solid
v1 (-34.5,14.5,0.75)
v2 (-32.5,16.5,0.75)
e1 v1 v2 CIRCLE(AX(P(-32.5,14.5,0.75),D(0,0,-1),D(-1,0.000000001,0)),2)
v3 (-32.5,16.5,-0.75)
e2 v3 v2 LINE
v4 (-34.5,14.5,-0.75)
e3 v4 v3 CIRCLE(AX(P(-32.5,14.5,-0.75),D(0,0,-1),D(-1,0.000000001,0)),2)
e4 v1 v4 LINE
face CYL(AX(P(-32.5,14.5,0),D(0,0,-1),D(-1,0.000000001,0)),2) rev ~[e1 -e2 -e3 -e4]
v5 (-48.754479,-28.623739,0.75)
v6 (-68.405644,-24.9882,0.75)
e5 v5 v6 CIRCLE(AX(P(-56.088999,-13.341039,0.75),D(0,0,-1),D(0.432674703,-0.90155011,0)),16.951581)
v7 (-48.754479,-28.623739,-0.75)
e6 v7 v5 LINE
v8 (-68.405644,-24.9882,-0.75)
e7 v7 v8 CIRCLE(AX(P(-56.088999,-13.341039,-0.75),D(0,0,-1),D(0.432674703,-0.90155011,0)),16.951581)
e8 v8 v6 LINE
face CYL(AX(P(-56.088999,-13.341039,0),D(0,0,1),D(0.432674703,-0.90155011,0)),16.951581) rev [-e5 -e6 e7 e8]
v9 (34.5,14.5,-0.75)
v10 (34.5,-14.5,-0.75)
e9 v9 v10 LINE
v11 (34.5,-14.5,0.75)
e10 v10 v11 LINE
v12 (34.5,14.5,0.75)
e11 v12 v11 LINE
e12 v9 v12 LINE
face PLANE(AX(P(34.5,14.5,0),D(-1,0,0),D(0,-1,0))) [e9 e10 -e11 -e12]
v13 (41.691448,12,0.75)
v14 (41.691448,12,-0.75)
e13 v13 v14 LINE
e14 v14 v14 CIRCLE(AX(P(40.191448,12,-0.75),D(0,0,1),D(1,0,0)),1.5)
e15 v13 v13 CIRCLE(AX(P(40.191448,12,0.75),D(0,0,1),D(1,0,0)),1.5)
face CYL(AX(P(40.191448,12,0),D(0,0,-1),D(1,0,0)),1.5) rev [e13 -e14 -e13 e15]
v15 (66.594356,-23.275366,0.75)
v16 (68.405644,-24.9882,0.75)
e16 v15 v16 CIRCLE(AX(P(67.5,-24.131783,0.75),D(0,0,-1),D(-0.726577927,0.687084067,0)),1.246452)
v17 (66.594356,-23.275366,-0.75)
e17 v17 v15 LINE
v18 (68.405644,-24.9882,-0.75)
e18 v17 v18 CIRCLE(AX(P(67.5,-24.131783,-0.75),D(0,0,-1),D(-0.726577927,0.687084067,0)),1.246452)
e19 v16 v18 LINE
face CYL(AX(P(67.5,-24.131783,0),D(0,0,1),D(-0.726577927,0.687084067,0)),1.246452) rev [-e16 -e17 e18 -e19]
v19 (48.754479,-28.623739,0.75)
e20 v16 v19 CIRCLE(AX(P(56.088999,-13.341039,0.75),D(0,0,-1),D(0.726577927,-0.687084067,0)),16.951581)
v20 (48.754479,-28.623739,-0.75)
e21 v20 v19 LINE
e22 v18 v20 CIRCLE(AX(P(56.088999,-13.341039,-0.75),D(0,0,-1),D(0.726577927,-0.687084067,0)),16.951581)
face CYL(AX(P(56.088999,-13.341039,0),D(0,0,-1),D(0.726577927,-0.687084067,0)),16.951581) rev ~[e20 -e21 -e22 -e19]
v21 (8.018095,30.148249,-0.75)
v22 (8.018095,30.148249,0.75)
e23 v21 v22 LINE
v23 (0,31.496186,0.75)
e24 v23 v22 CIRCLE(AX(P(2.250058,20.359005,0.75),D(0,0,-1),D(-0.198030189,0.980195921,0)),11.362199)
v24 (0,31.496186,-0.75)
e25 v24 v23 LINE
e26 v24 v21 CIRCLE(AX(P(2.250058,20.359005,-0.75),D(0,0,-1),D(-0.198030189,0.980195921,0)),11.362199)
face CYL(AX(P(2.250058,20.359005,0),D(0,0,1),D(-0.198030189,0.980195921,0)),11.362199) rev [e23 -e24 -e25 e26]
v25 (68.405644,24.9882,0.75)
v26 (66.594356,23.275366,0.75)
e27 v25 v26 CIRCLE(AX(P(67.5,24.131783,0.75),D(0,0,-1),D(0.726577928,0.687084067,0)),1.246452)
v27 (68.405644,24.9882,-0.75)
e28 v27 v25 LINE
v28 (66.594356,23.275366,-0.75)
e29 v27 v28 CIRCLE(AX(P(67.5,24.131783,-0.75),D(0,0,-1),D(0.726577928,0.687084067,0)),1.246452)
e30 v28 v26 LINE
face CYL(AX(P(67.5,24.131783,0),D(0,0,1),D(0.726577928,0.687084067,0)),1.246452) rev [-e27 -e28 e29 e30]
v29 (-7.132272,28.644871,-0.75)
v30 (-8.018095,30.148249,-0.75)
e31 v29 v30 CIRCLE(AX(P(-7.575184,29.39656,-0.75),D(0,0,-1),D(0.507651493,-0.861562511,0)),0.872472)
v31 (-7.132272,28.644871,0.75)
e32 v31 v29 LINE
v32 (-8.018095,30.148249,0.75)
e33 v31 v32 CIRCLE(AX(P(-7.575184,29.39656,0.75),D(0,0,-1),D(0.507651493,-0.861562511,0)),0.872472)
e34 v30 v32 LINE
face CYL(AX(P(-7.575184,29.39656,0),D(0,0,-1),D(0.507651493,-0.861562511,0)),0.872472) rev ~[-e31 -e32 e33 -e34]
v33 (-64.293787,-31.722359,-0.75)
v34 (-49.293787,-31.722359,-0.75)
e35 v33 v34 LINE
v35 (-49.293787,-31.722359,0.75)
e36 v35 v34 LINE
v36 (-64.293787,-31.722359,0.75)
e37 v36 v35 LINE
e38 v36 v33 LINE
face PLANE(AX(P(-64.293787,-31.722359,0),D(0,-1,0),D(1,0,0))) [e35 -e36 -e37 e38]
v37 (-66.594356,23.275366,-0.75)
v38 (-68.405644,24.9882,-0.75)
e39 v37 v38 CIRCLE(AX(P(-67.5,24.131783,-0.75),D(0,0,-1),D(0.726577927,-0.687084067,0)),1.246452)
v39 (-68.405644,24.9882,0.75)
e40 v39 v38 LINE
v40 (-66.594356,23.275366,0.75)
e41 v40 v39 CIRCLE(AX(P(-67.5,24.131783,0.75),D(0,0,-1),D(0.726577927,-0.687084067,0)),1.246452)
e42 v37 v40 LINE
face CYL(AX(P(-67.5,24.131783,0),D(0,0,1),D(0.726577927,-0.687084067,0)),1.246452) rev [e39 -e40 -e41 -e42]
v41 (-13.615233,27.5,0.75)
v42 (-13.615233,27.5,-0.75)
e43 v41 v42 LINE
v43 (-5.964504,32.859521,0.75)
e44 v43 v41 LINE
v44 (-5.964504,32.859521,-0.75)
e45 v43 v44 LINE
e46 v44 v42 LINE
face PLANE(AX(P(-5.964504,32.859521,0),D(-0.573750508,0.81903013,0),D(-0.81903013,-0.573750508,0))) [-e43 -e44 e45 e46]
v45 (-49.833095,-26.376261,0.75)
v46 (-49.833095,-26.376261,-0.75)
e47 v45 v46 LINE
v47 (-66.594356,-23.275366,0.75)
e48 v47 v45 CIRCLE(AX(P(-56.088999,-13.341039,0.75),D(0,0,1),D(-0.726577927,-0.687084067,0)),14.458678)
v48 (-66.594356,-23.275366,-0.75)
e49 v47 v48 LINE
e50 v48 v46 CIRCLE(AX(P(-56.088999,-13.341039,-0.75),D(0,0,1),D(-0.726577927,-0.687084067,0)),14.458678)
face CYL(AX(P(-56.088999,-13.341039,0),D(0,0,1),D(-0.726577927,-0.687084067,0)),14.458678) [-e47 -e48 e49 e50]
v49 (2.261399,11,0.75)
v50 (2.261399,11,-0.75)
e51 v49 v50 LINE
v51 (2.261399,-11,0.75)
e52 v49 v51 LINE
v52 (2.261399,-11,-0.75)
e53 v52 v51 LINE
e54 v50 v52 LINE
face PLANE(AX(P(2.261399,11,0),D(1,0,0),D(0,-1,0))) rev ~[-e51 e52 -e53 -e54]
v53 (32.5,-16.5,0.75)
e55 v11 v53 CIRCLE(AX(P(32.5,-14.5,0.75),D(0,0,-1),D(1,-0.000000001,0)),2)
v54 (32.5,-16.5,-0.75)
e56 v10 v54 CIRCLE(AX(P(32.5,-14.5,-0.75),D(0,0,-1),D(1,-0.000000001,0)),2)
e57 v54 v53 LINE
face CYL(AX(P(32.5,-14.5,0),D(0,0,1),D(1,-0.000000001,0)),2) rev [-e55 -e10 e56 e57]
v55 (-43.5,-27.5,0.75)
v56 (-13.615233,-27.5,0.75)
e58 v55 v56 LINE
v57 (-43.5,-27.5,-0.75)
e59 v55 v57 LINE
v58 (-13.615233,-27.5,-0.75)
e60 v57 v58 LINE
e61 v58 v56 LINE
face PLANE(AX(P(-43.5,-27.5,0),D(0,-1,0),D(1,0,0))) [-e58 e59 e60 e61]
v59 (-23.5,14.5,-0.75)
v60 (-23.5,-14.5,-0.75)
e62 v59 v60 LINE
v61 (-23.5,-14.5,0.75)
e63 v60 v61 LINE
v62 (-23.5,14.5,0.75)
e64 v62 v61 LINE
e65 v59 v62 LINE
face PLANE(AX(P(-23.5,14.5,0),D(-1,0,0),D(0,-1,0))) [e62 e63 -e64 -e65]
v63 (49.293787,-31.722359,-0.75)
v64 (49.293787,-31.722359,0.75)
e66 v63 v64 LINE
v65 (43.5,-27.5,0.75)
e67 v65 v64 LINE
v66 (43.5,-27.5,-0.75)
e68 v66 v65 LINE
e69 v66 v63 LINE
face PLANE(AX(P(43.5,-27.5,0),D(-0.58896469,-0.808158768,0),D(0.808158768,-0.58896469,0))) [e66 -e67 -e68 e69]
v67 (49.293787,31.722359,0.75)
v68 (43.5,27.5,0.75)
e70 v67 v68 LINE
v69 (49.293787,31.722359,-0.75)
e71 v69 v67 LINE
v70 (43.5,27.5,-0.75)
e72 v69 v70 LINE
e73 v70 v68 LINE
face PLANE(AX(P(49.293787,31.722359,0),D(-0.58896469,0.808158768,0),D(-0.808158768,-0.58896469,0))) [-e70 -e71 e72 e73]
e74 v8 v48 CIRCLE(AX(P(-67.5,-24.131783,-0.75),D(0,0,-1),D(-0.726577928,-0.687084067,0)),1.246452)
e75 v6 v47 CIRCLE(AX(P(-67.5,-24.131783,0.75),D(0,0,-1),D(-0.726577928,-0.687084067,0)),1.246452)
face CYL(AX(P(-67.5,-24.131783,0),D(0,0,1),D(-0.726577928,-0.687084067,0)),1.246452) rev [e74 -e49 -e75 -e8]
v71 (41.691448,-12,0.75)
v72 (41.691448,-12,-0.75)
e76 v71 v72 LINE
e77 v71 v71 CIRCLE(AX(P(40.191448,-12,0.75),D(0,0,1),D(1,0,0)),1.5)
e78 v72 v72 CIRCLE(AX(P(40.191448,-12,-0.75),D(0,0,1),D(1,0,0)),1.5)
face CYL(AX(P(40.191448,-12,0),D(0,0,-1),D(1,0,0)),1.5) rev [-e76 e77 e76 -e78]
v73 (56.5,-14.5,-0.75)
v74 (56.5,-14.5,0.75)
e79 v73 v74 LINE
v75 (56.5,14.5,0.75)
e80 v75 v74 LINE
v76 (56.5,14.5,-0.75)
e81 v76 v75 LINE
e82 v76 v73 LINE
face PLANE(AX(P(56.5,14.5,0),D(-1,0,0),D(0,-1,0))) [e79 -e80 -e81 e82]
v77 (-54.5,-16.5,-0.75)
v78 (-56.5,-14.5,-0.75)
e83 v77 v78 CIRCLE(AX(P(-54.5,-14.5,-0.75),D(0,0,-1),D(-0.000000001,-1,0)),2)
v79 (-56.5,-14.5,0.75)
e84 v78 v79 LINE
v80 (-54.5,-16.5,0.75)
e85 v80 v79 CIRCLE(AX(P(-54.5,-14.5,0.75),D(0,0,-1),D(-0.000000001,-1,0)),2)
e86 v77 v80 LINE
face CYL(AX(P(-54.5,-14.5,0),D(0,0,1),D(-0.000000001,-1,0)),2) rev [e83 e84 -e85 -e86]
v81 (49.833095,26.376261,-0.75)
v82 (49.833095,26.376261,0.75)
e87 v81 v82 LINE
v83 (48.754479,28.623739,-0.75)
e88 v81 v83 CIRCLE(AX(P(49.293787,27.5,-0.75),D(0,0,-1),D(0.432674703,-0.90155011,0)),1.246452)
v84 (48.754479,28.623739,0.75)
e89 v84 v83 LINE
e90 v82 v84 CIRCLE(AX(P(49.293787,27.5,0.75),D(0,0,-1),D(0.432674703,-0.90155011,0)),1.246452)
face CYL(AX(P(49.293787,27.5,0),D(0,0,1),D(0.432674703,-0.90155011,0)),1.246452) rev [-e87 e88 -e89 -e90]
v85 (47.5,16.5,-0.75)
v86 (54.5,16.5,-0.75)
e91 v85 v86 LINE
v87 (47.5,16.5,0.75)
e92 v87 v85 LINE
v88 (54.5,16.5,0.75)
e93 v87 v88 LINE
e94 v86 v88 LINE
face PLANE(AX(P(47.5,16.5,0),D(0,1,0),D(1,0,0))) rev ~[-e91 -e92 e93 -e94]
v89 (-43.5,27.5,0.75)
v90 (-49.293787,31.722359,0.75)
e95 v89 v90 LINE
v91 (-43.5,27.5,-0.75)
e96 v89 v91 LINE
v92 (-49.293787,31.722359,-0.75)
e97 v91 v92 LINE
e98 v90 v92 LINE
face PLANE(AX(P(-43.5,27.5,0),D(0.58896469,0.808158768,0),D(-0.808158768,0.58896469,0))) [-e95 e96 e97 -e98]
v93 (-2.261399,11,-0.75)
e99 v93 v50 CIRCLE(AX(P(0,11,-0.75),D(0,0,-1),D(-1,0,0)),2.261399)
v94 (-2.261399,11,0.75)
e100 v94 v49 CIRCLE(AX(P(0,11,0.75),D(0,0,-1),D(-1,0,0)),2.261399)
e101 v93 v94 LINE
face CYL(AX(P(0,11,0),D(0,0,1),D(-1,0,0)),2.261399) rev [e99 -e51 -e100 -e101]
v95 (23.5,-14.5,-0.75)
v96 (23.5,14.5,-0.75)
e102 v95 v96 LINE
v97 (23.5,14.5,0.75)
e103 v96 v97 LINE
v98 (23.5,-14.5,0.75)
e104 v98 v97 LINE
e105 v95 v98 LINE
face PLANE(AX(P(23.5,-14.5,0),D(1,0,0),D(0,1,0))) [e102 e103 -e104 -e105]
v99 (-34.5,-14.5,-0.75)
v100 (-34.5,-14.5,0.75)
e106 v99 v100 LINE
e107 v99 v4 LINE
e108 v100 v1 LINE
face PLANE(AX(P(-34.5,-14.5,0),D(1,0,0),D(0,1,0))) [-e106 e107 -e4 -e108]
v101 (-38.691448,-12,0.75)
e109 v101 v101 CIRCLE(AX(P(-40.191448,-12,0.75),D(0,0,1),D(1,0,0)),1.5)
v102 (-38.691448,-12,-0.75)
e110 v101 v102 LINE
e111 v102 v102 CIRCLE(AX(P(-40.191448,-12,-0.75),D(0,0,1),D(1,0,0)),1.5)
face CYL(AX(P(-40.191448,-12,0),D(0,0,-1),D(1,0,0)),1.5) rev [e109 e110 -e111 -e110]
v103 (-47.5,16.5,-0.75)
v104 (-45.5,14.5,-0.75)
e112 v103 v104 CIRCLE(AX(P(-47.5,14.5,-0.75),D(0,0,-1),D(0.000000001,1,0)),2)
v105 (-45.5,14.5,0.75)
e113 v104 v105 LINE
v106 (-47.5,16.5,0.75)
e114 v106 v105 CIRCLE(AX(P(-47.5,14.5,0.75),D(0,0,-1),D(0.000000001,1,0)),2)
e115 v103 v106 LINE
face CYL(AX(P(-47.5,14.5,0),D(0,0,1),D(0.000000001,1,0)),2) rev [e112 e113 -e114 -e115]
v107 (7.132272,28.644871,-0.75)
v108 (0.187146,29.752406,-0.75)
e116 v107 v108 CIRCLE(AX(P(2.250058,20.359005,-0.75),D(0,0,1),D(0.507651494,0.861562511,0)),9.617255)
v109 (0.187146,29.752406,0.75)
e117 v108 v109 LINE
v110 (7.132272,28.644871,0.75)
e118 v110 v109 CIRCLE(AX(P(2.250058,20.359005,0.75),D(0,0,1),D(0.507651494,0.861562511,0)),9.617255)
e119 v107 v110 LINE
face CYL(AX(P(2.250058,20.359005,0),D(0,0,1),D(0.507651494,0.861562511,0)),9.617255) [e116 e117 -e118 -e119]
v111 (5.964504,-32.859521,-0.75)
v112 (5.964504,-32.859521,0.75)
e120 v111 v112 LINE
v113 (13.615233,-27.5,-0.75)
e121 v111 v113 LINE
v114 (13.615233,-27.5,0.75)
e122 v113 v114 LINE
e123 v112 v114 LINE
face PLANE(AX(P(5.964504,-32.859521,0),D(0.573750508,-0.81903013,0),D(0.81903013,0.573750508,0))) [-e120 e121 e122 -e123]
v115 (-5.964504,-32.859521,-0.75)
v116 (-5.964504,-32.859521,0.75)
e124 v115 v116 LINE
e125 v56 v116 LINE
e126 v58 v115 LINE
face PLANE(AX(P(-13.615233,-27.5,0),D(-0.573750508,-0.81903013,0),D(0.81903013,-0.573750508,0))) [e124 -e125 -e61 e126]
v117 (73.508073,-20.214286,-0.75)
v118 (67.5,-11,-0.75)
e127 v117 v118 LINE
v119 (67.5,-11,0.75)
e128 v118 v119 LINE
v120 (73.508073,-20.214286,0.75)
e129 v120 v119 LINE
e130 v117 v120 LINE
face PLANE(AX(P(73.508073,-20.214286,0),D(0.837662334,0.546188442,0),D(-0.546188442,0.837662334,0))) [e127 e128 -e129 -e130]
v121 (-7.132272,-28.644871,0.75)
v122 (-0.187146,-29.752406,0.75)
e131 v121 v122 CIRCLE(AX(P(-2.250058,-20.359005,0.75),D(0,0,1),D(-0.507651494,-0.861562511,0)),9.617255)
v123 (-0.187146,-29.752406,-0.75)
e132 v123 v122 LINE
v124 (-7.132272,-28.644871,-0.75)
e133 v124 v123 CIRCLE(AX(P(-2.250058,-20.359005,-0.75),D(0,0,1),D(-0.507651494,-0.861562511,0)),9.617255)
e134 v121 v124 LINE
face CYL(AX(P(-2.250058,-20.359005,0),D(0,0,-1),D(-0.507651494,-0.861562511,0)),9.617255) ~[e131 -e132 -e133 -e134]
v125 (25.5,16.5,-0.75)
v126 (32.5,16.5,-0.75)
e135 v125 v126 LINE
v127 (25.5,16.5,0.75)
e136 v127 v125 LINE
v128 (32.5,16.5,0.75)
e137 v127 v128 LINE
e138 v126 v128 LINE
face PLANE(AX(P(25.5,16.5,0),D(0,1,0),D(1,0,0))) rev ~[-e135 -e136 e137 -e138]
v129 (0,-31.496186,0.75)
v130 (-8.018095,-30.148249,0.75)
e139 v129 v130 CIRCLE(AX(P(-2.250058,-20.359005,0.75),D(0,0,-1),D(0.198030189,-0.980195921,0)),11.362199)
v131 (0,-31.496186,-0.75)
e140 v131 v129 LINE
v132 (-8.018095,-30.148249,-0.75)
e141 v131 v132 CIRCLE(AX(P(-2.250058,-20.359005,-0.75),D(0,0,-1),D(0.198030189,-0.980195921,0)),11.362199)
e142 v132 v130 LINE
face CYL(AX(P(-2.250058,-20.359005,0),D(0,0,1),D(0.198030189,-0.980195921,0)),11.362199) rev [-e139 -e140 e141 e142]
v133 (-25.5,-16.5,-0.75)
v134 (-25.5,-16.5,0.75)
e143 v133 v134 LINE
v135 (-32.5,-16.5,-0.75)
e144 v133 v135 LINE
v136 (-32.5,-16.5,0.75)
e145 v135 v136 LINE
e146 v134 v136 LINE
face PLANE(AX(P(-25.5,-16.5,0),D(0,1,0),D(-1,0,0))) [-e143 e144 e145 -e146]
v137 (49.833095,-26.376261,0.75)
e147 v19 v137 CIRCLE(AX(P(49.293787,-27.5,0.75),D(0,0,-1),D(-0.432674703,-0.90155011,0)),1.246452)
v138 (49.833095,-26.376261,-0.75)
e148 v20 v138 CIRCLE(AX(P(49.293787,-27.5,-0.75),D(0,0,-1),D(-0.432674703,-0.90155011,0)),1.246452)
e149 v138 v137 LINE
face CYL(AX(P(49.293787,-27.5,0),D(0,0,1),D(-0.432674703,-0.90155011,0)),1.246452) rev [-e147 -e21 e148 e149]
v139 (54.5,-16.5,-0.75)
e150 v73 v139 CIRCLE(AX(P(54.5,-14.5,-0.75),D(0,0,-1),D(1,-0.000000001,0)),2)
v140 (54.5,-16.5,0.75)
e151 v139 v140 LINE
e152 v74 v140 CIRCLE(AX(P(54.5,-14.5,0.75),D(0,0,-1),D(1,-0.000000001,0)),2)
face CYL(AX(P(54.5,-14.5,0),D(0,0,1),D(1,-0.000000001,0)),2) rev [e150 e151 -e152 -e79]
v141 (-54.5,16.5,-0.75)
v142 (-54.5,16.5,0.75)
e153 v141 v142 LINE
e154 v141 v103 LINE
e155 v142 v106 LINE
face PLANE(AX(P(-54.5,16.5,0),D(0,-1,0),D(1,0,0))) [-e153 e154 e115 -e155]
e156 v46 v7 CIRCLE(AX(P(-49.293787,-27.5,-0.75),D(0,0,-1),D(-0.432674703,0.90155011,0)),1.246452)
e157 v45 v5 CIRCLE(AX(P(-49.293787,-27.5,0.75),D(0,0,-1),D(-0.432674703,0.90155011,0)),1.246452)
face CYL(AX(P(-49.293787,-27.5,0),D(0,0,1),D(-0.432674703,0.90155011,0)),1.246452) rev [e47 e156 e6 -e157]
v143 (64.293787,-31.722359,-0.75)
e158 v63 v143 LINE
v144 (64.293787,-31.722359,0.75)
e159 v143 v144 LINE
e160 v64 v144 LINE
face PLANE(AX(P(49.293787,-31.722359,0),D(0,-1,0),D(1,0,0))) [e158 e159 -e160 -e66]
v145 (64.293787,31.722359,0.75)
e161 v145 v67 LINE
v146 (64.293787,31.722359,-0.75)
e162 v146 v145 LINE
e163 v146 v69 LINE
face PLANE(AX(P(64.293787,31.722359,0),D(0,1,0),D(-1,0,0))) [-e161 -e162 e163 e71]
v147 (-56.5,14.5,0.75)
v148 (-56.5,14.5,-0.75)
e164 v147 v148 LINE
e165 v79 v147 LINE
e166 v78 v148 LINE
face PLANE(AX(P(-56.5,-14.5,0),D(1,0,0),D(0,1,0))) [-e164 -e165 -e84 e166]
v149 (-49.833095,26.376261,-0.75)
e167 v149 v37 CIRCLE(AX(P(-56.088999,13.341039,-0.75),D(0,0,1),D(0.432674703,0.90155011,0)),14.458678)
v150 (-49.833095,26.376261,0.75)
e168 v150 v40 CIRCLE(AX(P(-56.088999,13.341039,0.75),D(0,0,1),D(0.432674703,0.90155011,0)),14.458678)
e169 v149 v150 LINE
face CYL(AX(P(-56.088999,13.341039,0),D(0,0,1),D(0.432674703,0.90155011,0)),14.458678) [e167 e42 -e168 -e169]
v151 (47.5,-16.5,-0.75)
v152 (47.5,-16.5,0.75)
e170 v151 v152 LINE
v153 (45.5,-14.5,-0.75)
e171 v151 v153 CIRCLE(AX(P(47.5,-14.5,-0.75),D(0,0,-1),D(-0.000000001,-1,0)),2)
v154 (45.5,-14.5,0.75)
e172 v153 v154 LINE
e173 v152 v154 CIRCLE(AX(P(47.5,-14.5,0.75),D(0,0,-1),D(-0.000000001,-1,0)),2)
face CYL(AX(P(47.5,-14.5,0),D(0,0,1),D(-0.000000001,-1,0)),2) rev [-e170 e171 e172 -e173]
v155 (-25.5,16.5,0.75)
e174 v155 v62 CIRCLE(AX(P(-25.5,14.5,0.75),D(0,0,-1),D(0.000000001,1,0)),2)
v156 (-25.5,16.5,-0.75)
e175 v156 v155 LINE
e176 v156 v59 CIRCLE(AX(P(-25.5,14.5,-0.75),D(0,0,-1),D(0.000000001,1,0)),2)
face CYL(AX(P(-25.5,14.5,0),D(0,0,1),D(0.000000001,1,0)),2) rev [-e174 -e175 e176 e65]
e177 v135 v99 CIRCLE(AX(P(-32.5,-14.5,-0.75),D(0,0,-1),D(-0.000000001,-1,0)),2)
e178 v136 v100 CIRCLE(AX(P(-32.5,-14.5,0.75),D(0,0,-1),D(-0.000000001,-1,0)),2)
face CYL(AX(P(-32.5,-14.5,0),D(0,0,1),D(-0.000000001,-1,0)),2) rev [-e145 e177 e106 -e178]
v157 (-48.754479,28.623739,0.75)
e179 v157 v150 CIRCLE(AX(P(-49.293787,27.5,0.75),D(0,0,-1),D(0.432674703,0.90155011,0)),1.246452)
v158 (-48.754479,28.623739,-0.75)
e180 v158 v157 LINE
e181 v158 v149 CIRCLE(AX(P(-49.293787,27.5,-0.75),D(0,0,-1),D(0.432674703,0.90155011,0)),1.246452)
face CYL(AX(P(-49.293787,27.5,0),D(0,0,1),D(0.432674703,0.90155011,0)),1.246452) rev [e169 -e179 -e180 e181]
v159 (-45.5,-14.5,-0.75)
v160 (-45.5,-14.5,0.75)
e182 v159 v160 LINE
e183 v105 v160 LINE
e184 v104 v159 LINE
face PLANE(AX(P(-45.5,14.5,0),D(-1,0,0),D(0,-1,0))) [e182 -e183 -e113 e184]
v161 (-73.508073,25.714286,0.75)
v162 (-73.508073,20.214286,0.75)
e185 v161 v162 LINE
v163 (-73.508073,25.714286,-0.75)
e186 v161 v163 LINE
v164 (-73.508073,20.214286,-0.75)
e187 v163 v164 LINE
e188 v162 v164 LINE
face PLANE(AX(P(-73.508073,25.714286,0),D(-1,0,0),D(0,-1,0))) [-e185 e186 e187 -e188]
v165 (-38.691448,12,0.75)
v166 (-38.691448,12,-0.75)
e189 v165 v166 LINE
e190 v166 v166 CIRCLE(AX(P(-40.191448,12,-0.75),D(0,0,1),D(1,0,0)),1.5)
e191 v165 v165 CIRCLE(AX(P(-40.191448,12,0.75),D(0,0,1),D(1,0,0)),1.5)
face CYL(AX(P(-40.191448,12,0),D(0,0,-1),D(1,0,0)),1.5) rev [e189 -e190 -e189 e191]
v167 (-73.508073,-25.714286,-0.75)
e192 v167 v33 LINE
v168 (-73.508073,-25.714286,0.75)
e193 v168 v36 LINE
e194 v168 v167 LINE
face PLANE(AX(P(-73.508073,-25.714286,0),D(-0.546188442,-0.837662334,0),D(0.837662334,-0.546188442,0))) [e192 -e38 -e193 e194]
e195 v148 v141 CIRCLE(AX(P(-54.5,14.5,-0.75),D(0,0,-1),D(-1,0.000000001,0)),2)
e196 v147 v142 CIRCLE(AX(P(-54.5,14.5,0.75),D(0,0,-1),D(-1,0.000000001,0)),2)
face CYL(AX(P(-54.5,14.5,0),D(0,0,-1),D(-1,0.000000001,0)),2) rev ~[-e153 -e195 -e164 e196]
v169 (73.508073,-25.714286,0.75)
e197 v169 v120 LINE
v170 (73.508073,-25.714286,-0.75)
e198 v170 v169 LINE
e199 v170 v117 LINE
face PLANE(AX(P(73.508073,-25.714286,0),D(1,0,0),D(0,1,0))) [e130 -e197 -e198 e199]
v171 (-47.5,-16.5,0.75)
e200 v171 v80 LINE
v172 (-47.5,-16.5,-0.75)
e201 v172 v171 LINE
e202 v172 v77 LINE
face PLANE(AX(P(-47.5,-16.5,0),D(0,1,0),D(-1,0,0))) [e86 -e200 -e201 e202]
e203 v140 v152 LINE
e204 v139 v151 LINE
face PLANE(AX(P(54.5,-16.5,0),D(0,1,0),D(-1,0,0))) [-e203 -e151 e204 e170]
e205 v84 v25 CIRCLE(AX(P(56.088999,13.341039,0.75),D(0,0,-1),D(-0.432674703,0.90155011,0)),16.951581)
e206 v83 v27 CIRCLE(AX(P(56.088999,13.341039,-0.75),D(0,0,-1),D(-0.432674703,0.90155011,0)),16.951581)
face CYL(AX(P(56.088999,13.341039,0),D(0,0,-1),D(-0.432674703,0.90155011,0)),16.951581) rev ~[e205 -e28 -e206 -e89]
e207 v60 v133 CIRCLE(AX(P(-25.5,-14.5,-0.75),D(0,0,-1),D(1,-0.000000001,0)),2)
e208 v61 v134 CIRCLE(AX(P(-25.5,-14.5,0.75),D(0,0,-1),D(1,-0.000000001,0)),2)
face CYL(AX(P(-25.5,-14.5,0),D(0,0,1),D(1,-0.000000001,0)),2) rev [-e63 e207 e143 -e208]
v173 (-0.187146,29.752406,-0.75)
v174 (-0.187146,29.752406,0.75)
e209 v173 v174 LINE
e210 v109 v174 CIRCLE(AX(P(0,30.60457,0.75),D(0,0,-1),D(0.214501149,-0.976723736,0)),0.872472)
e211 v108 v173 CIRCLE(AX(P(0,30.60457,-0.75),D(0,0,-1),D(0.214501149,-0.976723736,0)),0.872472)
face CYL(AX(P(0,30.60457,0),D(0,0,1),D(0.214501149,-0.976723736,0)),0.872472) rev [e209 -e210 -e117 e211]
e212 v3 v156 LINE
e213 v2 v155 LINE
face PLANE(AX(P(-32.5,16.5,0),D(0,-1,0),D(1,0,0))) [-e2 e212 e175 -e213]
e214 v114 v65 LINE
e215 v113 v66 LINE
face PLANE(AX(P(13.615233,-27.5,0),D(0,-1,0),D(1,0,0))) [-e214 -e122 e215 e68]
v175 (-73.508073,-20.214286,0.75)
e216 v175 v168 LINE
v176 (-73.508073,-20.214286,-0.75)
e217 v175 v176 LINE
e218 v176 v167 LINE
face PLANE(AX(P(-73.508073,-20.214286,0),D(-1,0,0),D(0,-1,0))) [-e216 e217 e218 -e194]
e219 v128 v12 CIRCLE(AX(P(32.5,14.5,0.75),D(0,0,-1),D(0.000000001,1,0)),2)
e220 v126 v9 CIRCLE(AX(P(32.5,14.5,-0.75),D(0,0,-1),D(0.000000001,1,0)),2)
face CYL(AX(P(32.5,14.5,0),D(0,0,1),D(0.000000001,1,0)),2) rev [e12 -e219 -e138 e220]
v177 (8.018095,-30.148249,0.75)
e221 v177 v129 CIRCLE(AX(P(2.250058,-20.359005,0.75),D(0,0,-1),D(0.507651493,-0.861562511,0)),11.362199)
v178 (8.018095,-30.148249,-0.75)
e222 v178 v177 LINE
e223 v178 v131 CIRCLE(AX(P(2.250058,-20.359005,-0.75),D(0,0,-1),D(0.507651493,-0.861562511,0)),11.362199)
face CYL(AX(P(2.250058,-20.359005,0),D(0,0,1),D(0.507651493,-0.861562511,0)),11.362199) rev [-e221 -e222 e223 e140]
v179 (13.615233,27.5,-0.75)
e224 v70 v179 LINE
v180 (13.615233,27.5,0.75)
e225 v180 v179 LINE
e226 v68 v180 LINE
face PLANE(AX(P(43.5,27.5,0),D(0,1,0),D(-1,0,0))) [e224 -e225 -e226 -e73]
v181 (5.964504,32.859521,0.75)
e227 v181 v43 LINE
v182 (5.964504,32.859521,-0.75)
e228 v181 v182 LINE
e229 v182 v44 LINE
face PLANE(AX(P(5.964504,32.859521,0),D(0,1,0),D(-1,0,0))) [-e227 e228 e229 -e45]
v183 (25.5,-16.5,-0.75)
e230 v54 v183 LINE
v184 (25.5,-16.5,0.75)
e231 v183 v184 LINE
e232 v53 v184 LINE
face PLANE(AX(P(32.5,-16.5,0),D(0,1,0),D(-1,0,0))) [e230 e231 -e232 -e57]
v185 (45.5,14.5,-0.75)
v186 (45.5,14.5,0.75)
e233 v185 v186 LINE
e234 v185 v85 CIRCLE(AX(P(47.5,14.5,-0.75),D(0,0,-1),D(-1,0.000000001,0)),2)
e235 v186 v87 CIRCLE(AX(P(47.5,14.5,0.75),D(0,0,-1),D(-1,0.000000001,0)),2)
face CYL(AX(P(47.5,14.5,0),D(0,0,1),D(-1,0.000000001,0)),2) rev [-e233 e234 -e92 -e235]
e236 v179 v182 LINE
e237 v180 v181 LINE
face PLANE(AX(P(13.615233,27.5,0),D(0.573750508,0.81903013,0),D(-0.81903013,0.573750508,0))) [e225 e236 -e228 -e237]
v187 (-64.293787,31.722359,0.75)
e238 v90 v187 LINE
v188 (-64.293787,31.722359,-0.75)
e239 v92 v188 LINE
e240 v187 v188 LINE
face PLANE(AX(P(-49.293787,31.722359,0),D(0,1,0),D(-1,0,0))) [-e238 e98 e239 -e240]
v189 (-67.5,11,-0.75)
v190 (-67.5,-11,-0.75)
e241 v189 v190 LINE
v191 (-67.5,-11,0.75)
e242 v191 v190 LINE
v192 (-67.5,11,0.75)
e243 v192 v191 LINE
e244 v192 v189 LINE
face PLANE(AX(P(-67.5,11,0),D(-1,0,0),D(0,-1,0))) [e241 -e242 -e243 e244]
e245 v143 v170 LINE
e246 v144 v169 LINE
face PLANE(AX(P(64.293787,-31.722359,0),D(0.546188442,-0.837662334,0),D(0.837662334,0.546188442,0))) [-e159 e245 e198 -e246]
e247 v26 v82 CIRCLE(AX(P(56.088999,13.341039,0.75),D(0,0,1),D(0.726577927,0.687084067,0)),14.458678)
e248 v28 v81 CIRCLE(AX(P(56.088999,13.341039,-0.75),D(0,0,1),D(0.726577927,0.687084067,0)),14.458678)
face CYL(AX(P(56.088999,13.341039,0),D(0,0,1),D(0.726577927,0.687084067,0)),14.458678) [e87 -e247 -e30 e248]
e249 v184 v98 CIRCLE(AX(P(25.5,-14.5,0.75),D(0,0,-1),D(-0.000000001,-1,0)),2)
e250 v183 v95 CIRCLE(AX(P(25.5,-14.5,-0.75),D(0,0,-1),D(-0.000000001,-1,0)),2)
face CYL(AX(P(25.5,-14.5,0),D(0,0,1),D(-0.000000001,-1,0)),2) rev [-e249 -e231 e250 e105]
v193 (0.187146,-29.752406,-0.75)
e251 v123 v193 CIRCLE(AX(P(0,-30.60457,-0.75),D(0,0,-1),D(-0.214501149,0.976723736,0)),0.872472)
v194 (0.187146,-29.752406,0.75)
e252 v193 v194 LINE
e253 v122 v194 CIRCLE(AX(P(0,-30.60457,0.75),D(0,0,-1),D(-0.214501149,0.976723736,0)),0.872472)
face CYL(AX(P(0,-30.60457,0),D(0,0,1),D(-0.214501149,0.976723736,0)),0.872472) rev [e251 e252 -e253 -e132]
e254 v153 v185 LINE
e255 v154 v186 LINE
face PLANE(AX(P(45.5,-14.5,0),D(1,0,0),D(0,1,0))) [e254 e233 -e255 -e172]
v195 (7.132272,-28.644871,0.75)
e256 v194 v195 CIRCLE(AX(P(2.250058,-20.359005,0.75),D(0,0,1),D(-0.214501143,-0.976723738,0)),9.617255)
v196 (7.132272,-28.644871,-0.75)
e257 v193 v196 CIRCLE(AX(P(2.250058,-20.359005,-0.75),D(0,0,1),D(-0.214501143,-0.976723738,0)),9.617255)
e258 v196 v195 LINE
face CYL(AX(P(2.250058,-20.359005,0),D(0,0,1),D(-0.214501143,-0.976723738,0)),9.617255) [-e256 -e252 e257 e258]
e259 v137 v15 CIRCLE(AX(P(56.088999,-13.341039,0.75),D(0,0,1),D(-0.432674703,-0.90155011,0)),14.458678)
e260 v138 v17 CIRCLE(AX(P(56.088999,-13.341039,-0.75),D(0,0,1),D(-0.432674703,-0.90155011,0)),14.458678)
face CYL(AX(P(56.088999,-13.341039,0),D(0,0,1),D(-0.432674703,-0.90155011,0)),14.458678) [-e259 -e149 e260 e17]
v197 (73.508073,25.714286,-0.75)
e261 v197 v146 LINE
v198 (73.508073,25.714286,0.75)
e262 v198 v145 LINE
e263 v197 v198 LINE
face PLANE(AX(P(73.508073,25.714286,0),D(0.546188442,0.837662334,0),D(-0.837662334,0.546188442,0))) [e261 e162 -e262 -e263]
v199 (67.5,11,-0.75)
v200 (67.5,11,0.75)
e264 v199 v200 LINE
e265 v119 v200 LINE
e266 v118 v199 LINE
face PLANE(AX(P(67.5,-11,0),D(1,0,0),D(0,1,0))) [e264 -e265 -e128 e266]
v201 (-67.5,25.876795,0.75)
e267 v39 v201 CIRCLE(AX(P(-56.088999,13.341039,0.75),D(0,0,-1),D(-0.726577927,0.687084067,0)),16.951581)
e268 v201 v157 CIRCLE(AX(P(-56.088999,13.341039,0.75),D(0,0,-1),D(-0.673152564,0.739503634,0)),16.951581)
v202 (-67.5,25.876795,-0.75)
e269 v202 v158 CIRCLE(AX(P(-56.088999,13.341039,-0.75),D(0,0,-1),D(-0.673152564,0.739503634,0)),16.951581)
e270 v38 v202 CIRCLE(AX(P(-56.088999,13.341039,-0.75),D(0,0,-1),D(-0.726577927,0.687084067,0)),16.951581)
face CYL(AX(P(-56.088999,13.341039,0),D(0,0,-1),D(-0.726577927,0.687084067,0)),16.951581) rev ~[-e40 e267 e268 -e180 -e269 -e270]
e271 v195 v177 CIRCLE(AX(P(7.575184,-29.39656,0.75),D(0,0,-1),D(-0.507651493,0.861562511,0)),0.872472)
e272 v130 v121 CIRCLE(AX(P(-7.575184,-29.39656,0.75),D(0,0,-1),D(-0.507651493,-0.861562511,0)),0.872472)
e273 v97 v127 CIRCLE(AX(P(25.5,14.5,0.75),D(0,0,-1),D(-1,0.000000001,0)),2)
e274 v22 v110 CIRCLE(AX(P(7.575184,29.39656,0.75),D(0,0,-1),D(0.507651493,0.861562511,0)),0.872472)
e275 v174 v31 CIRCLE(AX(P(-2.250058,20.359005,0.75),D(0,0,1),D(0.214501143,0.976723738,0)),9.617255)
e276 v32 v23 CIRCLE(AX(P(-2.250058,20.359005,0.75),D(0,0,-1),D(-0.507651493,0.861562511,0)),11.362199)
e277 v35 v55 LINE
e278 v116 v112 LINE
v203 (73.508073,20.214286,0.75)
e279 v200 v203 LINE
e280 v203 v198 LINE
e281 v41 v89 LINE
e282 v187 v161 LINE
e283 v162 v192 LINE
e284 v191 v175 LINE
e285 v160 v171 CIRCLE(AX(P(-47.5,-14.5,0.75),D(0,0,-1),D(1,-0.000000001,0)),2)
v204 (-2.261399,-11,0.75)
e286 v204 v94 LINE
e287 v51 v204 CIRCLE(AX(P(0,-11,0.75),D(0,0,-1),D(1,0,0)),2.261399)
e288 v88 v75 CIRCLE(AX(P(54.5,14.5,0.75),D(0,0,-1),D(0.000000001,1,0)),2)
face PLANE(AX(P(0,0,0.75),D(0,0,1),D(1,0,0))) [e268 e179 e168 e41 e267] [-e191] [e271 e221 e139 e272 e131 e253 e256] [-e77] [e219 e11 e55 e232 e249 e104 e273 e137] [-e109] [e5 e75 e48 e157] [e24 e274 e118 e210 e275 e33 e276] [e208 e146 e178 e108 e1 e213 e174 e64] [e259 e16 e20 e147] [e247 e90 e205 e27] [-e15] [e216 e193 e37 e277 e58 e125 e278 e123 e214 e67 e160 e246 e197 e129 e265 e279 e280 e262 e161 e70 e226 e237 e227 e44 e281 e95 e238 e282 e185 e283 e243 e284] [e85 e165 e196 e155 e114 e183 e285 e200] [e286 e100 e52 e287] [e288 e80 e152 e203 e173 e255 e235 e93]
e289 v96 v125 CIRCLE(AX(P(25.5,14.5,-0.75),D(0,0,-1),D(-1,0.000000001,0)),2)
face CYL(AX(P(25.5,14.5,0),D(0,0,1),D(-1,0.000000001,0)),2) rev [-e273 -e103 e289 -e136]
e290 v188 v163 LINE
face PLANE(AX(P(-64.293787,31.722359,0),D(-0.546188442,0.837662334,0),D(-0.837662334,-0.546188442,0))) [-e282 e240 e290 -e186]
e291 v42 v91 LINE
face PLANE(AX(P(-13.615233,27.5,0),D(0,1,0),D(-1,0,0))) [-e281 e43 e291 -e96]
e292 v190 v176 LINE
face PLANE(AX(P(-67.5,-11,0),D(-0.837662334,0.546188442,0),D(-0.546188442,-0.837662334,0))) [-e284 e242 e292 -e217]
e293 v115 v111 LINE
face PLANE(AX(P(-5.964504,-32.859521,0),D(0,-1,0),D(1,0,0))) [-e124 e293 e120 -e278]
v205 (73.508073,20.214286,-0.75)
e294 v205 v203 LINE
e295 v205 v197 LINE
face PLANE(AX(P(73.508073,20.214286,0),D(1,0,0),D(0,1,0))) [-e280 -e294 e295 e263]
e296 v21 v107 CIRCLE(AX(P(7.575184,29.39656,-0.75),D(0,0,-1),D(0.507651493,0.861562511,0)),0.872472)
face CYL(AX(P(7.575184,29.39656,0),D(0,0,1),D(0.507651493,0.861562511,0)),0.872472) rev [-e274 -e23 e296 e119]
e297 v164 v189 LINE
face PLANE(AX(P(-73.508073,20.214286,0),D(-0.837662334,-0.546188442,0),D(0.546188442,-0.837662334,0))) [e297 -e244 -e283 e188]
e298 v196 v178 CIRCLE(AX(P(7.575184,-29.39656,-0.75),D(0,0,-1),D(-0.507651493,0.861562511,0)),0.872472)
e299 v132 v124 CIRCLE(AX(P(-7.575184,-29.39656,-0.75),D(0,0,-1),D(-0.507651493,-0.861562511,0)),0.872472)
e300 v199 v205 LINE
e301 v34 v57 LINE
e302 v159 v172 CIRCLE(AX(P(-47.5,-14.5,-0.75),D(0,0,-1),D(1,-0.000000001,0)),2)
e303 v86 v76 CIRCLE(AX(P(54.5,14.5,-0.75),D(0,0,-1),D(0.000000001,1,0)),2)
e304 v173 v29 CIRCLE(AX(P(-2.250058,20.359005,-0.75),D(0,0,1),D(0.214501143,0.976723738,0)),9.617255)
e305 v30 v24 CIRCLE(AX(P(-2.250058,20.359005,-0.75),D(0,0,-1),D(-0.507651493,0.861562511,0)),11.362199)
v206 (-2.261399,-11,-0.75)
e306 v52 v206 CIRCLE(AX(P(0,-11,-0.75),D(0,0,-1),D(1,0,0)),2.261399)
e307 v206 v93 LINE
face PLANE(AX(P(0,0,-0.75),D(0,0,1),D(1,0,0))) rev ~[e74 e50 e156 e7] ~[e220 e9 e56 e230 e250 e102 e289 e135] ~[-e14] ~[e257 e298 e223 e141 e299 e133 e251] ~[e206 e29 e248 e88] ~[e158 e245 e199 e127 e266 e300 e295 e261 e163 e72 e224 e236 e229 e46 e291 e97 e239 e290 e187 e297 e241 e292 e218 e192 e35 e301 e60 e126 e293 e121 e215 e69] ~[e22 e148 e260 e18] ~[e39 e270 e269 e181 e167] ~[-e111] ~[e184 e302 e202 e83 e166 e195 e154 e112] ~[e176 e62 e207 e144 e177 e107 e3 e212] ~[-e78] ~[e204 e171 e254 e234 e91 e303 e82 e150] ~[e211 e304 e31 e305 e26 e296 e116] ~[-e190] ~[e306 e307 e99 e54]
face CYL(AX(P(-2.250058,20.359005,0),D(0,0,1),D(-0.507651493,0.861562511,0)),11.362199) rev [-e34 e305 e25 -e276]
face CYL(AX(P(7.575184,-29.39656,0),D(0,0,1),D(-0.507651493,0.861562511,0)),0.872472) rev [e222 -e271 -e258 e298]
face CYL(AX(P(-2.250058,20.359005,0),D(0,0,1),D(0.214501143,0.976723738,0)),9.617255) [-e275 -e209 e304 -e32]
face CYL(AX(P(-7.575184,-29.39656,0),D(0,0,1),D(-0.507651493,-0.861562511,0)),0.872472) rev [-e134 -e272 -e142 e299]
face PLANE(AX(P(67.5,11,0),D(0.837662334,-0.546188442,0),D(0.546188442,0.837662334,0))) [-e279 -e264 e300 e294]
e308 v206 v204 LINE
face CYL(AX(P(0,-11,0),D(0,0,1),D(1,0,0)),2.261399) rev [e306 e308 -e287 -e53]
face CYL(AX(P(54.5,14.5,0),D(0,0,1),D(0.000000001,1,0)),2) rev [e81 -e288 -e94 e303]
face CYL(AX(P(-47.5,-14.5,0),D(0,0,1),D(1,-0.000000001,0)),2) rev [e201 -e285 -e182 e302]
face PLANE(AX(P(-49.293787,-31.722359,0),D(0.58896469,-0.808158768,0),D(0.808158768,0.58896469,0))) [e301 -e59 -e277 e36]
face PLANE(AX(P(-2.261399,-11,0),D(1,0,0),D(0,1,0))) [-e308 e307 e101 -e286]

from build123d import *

# Parameters (mm, degrees)
SCHIZZO1_R                   = 1.5
ESTRUSIONE_ESTRUSIONE1_DEPTH = 0.75


with BuildPart() as part:
    # Schizzo1 → Estrusione-Estrusione1 (new body, symmetric)
    with BuildSketch(Plane.XY):
        Polygon((-43.5, -27.5), (-13.615232638, -27.5), (-5.964504028, -32.859521299), (5.964504028, -32.859521299), (13.615232638, -27.5), (43.5, -27.5), (49.293787181, -31.722358535), (64.293787181, -31.722358535), (73.508072858, -25.714285677), (73.508072858, -20.214285677), (67.5, -11), (67.5, 11), (73.508072858, 20.214285677), (73.508072858, 25.714285677), (64.293787181, 31.722358535), (49.293787181, 31.722358535), (43.5, 27.5), (13.615232638, 27.5), (5.964504028, 32.859521299), (-5.964504028, 32.859521299), (-13.615232638, 27.5), (-43.5, 27.5), (-49.293787181, 31.722358535), (-64.293787181, 31.722358535), (-73.508072858, 25.714285677), (-73.508072858, 20.214285677), (-67.5, 11), (-67.5, -11), (-73.508072858, -20.214285677), (-73.508072858, -25.714285677), (-64.293787181, -31.722358535), (-49.293787181, -31.722358535), align=None)
        with BuildLine():
            ThreePointArc((-48.754479002, -28.623738791), (-59.172775767, -30.009764998), (-68.405644393, -24.988200197))
            ThreePointArc((-68.405644393, -24.988200197), (-68.356417198, -23.226138607), (-66.594355607, -23.275365801))
            ThreePointArc((-66.594355607, -23.275365801), (-58.719274878, -27.558458065), (-49.83309536, -26.376261209))
            ThreePointArc((-49.83309536, -26.376261209), (-48.17004839, -26.960691821), (-48.754479002, -28.623738791))
        make_face(mode=Mode.SUBTRACT)
        with Locations((-40.191447808, -12)):
            Circle(SCHIZZO1_R, mode=Mode.SUBTRACT)
        with BuildLine():
            ThreePointArc((0, -31.496185519), (-4.133745369, -31.563971562), (-8.018095478, -30.148249145))
            ThreePointArc((-8.018095478, -30.148249145), (-8.326872952, -28.953648185), (-7.132271992, -28.644870711))
            ThreePointArc((-7.132271992, -28.644870711), (-3.764579281, -29.856257566), (-0.187146253, -29.75240554))
            ThreePointArc((-0.187146253, -29.75240554), (0, -29.732097651), (0.187146253, -29.75240554))
            ThreePointArc((0.187146253, -29.75240554), (3.764579281, -29.856257566), (7.132271992, -28.644870711))
            ThreePointArc((7.132271992, -28.644870711), (8.326872952, -28.953648185), (8.018095478, -30.148249145))
            ThreePointArc((8.018095478, -30.148249145), (4.133745369, -31.563971562), (0, -31.496185519))
        make_face(mode=Mode.SUBTRACT)
        with BuildLine():
            ThreePointArc((66.594355607, -23.275365801), (68.356417198, -23.226138607), (68.405644393, -24.988200197))
            ThreePointArc((68.405644393, -24.988200197), (59.172775767, -30.009764998), (48.754479002, -28.623738791))
            ThreePointArc((48.754479002, -28.623738791), (48.17004839, -26.960691821), (49.83309536, -26.376261209))
            ThreePointArc((49.83309536, -26.376261209), (58.719274878, -27.558458065), (66.594355607, -23.275365801))
        make_face(mode=Mode.SUBTRACT)
        with Locations((40.191447808, -12)):
            Circle(SCHIZZO1_R, mode=Mode.SUBTRACT)
        with BuildLine():
            Line((-47.5, -16.5), (-54.5, -16.5))
            ThreePointArc((-54.5, -16.5), (-55.914213562, -15.914213562), (-56.5, -14.5))
            Line((-56.5, -14.5), (-56.5, 14.5))
            ThreePointArc((-56.5, 14.5), (-55.914213562, 15.914213562), (-54.5, 16.5))
            Line((-54.5, 16.5), (-47.5, 16.5))
            ThreePointArc((-47.5, 16.5), (-46.085786438, 15.914213562), (-45.5, 14.5))
            Line((-45.5, 14.5), (-45.5, -14.5))
            ThreePointArc((-45.5, -14.5), (-46.085786438, -15.914213562), (-47.5, -16.5))
        make_face(mode=Mode.SUBTRACT)
        with Locations((-40.191447808, 12)):
            Circle(SCHIZZO1_R, mode=Mode.SUBTRACT)
        with BuildLine():
            Line((-25.5, -16.5), (-32.5, -16.5))
            ThreePointArc((-32.5, -16.5), (-33.914213562, -15.914213562), (-34.5, -14.5))
            Line((-34.5, -14.5), (-34.5, 14.5))
            ThreePointArc((-34.5, 14.5), (-33.914213562, 15.914213562), (-32.5, 16.5))
            Line((-32.5, 16.5), (-25.5, 16.5))
            ThreePointArc((-25.5, 16.5), (-24.085786438, 15.914213562), (-23.5, 14.5))
            Line((-23.5, 14.5), (-23.5, -14.5))
            ThreePointArc((-23.5, -14.5), (-24.085786438, -15.914213562), (-25.5, -16.5))
        make_face(mode=Mode.SUBTRACT)
        with BuildLine():
            ThreePointArc((-2.261398956, 11), (0, 13.261398956), (2.261398956, 11))
            Line((2.261398956, 11), (2.261398956, -11))
            ThreePointArc((2.261398956, -11), (0, -13.261398956), (-2.261398956, -11))
            Line((-2.261398956, -11), (-2.261398956, 11))
        make_face(mode=Mode.SUBTRACT)
        with BuildLine():
            ThreePointArc((-66.594355607, 23.275365801), (-68.356417198, 23.226138607), (-68.405644393, 24.988200197))
            ThreePointArc((-68.405644393, 24.988200197), (-67.961138694, 25.440973547), (-67.5, 25.876794757))
            ThreePointArc((-67.5, 25.876794757), (-58.546813094, 30.113494239), (-48.754479002, 28.623738791))
            ThreePointArc((-48.754479002, 28.623738791), (-48.17004839, 26.960691821), (-49.83309536, 26.376261209))
            ThreePointArc((-49.83309536, 26.376261209), (-58.719274878, 27.558458065), (-66.594355607, 23.275365801))
        make_face(mode=Mode.SUBTRACT)
        with BuildLine():
            ThreePointArc((25.5, -16.5), (24.085786438, -15.914213562), (23.5, -14.5))
            Line((23.5, -14.5), (23.5, 14.5))
            ThreePointArc((23.5, 14.5), (24.085786438, 15.914213562), (25.5, 16.5))
            Line((25.5, 16.5), (32.5, 16.5))
            ThreePointArc((32.5, 16.5), (33.914213562, 15.914213562), (34.5, 14.5))
            Line((34.5, 14.5), (34.5, -14.5))
            ThreePointArc((34.5, -14.5), (33.914213562, -15.914213562), (32.5, -16.5))
            Line((32.5, -16.5), (25.5, -16.5))
        make_face(mode=Mode.SUBTRACT)
        with BuildLine():
            ThreePointArc((47.5, -16.5), (46.085786438, -15.914213562), (45.5, -14.5))
            Line((45.5, -14.5), (45.5, 14.5))
            ThreePointArc((45.5, 14.5), (46.085786438, 15.914213562), (47.5, 16.5))
            Line((47.5, 16.5), (54.5, 16.5))
            ThreePointArc((54.5, 16.5), (55.914213562, 15.914213562), (56.5, 14.5))
            Line((56.5, 14.5), (56.5, -14.5))
            ThreePointArc((56.5, -14.5), (55.914213562, -15.914213562), (54.5, -16.5))
            Line((54.5, -16.5), (47.5, -16.5))
        make_face(mode=Mode.SUBTRACT)
        with Locations((40.191447808, 12)):
            Circle(SCHIZZO1_R, mode=Mode.SUBTRACT)
        with BuildLine():
            ThreePointArc((0.187146253, 29.75240554), (0, 29.732097651), (-0.187146253, 29.75240554))
            ThreePointArc((-0.187146253, 29.75240554), (-3.764579281, 29.856257566), (-7.132271992, 28.644870711))
            ThreePointArc((-7.132271992, 28.644870711), (-8.326872952, 28.953648185), (-8.018095478, 30.148249145))
            ThreePointArc((-8.018095478, 30.148249145), (-4.133745369, 31.563971562), (0, 31.496185519))
            ThreePointArc((0, 31.496185519), (4.133745369, 31.563971562), (8.018095478, 30.148249145))
            ThreePointArc((8.018095478, 30.148249145), (8.326872952, 28.953648185), (7.132271992, 28.644870711))
            ThreePointArc((7.132271992, 28.644870711), (3.764579281, 29.856257566), (0.187146253, 29.75240554))
        make_face(mode=Mode.SUBTRACT)
        with BuildLine():
            ThreePointArc((48.754479002, 28.623738791), (59.172775767, 30.009764998), (68.405644393, 24.988200197))
            ThreePointArc((68.405644393, 24.988200197), (68.356417198, 23.226138607), (66.594355607, 23.275365801))
            ThreePointArc((66.594355607, 23.275365801), (58.719274878, 27.558458065), (49.83309536, 26.376261209))
            ThreePointArc((49.83309536, 26.376261209), (48.17004839, 26.960691821), (48.754479002, 28.623738791))
        make_face(mode=Mode.SUBTRACT)
    extrude(amount=ESTRUSIONE_ESTRUSIONE1_DEPTH, both=True)


solid = part.part
